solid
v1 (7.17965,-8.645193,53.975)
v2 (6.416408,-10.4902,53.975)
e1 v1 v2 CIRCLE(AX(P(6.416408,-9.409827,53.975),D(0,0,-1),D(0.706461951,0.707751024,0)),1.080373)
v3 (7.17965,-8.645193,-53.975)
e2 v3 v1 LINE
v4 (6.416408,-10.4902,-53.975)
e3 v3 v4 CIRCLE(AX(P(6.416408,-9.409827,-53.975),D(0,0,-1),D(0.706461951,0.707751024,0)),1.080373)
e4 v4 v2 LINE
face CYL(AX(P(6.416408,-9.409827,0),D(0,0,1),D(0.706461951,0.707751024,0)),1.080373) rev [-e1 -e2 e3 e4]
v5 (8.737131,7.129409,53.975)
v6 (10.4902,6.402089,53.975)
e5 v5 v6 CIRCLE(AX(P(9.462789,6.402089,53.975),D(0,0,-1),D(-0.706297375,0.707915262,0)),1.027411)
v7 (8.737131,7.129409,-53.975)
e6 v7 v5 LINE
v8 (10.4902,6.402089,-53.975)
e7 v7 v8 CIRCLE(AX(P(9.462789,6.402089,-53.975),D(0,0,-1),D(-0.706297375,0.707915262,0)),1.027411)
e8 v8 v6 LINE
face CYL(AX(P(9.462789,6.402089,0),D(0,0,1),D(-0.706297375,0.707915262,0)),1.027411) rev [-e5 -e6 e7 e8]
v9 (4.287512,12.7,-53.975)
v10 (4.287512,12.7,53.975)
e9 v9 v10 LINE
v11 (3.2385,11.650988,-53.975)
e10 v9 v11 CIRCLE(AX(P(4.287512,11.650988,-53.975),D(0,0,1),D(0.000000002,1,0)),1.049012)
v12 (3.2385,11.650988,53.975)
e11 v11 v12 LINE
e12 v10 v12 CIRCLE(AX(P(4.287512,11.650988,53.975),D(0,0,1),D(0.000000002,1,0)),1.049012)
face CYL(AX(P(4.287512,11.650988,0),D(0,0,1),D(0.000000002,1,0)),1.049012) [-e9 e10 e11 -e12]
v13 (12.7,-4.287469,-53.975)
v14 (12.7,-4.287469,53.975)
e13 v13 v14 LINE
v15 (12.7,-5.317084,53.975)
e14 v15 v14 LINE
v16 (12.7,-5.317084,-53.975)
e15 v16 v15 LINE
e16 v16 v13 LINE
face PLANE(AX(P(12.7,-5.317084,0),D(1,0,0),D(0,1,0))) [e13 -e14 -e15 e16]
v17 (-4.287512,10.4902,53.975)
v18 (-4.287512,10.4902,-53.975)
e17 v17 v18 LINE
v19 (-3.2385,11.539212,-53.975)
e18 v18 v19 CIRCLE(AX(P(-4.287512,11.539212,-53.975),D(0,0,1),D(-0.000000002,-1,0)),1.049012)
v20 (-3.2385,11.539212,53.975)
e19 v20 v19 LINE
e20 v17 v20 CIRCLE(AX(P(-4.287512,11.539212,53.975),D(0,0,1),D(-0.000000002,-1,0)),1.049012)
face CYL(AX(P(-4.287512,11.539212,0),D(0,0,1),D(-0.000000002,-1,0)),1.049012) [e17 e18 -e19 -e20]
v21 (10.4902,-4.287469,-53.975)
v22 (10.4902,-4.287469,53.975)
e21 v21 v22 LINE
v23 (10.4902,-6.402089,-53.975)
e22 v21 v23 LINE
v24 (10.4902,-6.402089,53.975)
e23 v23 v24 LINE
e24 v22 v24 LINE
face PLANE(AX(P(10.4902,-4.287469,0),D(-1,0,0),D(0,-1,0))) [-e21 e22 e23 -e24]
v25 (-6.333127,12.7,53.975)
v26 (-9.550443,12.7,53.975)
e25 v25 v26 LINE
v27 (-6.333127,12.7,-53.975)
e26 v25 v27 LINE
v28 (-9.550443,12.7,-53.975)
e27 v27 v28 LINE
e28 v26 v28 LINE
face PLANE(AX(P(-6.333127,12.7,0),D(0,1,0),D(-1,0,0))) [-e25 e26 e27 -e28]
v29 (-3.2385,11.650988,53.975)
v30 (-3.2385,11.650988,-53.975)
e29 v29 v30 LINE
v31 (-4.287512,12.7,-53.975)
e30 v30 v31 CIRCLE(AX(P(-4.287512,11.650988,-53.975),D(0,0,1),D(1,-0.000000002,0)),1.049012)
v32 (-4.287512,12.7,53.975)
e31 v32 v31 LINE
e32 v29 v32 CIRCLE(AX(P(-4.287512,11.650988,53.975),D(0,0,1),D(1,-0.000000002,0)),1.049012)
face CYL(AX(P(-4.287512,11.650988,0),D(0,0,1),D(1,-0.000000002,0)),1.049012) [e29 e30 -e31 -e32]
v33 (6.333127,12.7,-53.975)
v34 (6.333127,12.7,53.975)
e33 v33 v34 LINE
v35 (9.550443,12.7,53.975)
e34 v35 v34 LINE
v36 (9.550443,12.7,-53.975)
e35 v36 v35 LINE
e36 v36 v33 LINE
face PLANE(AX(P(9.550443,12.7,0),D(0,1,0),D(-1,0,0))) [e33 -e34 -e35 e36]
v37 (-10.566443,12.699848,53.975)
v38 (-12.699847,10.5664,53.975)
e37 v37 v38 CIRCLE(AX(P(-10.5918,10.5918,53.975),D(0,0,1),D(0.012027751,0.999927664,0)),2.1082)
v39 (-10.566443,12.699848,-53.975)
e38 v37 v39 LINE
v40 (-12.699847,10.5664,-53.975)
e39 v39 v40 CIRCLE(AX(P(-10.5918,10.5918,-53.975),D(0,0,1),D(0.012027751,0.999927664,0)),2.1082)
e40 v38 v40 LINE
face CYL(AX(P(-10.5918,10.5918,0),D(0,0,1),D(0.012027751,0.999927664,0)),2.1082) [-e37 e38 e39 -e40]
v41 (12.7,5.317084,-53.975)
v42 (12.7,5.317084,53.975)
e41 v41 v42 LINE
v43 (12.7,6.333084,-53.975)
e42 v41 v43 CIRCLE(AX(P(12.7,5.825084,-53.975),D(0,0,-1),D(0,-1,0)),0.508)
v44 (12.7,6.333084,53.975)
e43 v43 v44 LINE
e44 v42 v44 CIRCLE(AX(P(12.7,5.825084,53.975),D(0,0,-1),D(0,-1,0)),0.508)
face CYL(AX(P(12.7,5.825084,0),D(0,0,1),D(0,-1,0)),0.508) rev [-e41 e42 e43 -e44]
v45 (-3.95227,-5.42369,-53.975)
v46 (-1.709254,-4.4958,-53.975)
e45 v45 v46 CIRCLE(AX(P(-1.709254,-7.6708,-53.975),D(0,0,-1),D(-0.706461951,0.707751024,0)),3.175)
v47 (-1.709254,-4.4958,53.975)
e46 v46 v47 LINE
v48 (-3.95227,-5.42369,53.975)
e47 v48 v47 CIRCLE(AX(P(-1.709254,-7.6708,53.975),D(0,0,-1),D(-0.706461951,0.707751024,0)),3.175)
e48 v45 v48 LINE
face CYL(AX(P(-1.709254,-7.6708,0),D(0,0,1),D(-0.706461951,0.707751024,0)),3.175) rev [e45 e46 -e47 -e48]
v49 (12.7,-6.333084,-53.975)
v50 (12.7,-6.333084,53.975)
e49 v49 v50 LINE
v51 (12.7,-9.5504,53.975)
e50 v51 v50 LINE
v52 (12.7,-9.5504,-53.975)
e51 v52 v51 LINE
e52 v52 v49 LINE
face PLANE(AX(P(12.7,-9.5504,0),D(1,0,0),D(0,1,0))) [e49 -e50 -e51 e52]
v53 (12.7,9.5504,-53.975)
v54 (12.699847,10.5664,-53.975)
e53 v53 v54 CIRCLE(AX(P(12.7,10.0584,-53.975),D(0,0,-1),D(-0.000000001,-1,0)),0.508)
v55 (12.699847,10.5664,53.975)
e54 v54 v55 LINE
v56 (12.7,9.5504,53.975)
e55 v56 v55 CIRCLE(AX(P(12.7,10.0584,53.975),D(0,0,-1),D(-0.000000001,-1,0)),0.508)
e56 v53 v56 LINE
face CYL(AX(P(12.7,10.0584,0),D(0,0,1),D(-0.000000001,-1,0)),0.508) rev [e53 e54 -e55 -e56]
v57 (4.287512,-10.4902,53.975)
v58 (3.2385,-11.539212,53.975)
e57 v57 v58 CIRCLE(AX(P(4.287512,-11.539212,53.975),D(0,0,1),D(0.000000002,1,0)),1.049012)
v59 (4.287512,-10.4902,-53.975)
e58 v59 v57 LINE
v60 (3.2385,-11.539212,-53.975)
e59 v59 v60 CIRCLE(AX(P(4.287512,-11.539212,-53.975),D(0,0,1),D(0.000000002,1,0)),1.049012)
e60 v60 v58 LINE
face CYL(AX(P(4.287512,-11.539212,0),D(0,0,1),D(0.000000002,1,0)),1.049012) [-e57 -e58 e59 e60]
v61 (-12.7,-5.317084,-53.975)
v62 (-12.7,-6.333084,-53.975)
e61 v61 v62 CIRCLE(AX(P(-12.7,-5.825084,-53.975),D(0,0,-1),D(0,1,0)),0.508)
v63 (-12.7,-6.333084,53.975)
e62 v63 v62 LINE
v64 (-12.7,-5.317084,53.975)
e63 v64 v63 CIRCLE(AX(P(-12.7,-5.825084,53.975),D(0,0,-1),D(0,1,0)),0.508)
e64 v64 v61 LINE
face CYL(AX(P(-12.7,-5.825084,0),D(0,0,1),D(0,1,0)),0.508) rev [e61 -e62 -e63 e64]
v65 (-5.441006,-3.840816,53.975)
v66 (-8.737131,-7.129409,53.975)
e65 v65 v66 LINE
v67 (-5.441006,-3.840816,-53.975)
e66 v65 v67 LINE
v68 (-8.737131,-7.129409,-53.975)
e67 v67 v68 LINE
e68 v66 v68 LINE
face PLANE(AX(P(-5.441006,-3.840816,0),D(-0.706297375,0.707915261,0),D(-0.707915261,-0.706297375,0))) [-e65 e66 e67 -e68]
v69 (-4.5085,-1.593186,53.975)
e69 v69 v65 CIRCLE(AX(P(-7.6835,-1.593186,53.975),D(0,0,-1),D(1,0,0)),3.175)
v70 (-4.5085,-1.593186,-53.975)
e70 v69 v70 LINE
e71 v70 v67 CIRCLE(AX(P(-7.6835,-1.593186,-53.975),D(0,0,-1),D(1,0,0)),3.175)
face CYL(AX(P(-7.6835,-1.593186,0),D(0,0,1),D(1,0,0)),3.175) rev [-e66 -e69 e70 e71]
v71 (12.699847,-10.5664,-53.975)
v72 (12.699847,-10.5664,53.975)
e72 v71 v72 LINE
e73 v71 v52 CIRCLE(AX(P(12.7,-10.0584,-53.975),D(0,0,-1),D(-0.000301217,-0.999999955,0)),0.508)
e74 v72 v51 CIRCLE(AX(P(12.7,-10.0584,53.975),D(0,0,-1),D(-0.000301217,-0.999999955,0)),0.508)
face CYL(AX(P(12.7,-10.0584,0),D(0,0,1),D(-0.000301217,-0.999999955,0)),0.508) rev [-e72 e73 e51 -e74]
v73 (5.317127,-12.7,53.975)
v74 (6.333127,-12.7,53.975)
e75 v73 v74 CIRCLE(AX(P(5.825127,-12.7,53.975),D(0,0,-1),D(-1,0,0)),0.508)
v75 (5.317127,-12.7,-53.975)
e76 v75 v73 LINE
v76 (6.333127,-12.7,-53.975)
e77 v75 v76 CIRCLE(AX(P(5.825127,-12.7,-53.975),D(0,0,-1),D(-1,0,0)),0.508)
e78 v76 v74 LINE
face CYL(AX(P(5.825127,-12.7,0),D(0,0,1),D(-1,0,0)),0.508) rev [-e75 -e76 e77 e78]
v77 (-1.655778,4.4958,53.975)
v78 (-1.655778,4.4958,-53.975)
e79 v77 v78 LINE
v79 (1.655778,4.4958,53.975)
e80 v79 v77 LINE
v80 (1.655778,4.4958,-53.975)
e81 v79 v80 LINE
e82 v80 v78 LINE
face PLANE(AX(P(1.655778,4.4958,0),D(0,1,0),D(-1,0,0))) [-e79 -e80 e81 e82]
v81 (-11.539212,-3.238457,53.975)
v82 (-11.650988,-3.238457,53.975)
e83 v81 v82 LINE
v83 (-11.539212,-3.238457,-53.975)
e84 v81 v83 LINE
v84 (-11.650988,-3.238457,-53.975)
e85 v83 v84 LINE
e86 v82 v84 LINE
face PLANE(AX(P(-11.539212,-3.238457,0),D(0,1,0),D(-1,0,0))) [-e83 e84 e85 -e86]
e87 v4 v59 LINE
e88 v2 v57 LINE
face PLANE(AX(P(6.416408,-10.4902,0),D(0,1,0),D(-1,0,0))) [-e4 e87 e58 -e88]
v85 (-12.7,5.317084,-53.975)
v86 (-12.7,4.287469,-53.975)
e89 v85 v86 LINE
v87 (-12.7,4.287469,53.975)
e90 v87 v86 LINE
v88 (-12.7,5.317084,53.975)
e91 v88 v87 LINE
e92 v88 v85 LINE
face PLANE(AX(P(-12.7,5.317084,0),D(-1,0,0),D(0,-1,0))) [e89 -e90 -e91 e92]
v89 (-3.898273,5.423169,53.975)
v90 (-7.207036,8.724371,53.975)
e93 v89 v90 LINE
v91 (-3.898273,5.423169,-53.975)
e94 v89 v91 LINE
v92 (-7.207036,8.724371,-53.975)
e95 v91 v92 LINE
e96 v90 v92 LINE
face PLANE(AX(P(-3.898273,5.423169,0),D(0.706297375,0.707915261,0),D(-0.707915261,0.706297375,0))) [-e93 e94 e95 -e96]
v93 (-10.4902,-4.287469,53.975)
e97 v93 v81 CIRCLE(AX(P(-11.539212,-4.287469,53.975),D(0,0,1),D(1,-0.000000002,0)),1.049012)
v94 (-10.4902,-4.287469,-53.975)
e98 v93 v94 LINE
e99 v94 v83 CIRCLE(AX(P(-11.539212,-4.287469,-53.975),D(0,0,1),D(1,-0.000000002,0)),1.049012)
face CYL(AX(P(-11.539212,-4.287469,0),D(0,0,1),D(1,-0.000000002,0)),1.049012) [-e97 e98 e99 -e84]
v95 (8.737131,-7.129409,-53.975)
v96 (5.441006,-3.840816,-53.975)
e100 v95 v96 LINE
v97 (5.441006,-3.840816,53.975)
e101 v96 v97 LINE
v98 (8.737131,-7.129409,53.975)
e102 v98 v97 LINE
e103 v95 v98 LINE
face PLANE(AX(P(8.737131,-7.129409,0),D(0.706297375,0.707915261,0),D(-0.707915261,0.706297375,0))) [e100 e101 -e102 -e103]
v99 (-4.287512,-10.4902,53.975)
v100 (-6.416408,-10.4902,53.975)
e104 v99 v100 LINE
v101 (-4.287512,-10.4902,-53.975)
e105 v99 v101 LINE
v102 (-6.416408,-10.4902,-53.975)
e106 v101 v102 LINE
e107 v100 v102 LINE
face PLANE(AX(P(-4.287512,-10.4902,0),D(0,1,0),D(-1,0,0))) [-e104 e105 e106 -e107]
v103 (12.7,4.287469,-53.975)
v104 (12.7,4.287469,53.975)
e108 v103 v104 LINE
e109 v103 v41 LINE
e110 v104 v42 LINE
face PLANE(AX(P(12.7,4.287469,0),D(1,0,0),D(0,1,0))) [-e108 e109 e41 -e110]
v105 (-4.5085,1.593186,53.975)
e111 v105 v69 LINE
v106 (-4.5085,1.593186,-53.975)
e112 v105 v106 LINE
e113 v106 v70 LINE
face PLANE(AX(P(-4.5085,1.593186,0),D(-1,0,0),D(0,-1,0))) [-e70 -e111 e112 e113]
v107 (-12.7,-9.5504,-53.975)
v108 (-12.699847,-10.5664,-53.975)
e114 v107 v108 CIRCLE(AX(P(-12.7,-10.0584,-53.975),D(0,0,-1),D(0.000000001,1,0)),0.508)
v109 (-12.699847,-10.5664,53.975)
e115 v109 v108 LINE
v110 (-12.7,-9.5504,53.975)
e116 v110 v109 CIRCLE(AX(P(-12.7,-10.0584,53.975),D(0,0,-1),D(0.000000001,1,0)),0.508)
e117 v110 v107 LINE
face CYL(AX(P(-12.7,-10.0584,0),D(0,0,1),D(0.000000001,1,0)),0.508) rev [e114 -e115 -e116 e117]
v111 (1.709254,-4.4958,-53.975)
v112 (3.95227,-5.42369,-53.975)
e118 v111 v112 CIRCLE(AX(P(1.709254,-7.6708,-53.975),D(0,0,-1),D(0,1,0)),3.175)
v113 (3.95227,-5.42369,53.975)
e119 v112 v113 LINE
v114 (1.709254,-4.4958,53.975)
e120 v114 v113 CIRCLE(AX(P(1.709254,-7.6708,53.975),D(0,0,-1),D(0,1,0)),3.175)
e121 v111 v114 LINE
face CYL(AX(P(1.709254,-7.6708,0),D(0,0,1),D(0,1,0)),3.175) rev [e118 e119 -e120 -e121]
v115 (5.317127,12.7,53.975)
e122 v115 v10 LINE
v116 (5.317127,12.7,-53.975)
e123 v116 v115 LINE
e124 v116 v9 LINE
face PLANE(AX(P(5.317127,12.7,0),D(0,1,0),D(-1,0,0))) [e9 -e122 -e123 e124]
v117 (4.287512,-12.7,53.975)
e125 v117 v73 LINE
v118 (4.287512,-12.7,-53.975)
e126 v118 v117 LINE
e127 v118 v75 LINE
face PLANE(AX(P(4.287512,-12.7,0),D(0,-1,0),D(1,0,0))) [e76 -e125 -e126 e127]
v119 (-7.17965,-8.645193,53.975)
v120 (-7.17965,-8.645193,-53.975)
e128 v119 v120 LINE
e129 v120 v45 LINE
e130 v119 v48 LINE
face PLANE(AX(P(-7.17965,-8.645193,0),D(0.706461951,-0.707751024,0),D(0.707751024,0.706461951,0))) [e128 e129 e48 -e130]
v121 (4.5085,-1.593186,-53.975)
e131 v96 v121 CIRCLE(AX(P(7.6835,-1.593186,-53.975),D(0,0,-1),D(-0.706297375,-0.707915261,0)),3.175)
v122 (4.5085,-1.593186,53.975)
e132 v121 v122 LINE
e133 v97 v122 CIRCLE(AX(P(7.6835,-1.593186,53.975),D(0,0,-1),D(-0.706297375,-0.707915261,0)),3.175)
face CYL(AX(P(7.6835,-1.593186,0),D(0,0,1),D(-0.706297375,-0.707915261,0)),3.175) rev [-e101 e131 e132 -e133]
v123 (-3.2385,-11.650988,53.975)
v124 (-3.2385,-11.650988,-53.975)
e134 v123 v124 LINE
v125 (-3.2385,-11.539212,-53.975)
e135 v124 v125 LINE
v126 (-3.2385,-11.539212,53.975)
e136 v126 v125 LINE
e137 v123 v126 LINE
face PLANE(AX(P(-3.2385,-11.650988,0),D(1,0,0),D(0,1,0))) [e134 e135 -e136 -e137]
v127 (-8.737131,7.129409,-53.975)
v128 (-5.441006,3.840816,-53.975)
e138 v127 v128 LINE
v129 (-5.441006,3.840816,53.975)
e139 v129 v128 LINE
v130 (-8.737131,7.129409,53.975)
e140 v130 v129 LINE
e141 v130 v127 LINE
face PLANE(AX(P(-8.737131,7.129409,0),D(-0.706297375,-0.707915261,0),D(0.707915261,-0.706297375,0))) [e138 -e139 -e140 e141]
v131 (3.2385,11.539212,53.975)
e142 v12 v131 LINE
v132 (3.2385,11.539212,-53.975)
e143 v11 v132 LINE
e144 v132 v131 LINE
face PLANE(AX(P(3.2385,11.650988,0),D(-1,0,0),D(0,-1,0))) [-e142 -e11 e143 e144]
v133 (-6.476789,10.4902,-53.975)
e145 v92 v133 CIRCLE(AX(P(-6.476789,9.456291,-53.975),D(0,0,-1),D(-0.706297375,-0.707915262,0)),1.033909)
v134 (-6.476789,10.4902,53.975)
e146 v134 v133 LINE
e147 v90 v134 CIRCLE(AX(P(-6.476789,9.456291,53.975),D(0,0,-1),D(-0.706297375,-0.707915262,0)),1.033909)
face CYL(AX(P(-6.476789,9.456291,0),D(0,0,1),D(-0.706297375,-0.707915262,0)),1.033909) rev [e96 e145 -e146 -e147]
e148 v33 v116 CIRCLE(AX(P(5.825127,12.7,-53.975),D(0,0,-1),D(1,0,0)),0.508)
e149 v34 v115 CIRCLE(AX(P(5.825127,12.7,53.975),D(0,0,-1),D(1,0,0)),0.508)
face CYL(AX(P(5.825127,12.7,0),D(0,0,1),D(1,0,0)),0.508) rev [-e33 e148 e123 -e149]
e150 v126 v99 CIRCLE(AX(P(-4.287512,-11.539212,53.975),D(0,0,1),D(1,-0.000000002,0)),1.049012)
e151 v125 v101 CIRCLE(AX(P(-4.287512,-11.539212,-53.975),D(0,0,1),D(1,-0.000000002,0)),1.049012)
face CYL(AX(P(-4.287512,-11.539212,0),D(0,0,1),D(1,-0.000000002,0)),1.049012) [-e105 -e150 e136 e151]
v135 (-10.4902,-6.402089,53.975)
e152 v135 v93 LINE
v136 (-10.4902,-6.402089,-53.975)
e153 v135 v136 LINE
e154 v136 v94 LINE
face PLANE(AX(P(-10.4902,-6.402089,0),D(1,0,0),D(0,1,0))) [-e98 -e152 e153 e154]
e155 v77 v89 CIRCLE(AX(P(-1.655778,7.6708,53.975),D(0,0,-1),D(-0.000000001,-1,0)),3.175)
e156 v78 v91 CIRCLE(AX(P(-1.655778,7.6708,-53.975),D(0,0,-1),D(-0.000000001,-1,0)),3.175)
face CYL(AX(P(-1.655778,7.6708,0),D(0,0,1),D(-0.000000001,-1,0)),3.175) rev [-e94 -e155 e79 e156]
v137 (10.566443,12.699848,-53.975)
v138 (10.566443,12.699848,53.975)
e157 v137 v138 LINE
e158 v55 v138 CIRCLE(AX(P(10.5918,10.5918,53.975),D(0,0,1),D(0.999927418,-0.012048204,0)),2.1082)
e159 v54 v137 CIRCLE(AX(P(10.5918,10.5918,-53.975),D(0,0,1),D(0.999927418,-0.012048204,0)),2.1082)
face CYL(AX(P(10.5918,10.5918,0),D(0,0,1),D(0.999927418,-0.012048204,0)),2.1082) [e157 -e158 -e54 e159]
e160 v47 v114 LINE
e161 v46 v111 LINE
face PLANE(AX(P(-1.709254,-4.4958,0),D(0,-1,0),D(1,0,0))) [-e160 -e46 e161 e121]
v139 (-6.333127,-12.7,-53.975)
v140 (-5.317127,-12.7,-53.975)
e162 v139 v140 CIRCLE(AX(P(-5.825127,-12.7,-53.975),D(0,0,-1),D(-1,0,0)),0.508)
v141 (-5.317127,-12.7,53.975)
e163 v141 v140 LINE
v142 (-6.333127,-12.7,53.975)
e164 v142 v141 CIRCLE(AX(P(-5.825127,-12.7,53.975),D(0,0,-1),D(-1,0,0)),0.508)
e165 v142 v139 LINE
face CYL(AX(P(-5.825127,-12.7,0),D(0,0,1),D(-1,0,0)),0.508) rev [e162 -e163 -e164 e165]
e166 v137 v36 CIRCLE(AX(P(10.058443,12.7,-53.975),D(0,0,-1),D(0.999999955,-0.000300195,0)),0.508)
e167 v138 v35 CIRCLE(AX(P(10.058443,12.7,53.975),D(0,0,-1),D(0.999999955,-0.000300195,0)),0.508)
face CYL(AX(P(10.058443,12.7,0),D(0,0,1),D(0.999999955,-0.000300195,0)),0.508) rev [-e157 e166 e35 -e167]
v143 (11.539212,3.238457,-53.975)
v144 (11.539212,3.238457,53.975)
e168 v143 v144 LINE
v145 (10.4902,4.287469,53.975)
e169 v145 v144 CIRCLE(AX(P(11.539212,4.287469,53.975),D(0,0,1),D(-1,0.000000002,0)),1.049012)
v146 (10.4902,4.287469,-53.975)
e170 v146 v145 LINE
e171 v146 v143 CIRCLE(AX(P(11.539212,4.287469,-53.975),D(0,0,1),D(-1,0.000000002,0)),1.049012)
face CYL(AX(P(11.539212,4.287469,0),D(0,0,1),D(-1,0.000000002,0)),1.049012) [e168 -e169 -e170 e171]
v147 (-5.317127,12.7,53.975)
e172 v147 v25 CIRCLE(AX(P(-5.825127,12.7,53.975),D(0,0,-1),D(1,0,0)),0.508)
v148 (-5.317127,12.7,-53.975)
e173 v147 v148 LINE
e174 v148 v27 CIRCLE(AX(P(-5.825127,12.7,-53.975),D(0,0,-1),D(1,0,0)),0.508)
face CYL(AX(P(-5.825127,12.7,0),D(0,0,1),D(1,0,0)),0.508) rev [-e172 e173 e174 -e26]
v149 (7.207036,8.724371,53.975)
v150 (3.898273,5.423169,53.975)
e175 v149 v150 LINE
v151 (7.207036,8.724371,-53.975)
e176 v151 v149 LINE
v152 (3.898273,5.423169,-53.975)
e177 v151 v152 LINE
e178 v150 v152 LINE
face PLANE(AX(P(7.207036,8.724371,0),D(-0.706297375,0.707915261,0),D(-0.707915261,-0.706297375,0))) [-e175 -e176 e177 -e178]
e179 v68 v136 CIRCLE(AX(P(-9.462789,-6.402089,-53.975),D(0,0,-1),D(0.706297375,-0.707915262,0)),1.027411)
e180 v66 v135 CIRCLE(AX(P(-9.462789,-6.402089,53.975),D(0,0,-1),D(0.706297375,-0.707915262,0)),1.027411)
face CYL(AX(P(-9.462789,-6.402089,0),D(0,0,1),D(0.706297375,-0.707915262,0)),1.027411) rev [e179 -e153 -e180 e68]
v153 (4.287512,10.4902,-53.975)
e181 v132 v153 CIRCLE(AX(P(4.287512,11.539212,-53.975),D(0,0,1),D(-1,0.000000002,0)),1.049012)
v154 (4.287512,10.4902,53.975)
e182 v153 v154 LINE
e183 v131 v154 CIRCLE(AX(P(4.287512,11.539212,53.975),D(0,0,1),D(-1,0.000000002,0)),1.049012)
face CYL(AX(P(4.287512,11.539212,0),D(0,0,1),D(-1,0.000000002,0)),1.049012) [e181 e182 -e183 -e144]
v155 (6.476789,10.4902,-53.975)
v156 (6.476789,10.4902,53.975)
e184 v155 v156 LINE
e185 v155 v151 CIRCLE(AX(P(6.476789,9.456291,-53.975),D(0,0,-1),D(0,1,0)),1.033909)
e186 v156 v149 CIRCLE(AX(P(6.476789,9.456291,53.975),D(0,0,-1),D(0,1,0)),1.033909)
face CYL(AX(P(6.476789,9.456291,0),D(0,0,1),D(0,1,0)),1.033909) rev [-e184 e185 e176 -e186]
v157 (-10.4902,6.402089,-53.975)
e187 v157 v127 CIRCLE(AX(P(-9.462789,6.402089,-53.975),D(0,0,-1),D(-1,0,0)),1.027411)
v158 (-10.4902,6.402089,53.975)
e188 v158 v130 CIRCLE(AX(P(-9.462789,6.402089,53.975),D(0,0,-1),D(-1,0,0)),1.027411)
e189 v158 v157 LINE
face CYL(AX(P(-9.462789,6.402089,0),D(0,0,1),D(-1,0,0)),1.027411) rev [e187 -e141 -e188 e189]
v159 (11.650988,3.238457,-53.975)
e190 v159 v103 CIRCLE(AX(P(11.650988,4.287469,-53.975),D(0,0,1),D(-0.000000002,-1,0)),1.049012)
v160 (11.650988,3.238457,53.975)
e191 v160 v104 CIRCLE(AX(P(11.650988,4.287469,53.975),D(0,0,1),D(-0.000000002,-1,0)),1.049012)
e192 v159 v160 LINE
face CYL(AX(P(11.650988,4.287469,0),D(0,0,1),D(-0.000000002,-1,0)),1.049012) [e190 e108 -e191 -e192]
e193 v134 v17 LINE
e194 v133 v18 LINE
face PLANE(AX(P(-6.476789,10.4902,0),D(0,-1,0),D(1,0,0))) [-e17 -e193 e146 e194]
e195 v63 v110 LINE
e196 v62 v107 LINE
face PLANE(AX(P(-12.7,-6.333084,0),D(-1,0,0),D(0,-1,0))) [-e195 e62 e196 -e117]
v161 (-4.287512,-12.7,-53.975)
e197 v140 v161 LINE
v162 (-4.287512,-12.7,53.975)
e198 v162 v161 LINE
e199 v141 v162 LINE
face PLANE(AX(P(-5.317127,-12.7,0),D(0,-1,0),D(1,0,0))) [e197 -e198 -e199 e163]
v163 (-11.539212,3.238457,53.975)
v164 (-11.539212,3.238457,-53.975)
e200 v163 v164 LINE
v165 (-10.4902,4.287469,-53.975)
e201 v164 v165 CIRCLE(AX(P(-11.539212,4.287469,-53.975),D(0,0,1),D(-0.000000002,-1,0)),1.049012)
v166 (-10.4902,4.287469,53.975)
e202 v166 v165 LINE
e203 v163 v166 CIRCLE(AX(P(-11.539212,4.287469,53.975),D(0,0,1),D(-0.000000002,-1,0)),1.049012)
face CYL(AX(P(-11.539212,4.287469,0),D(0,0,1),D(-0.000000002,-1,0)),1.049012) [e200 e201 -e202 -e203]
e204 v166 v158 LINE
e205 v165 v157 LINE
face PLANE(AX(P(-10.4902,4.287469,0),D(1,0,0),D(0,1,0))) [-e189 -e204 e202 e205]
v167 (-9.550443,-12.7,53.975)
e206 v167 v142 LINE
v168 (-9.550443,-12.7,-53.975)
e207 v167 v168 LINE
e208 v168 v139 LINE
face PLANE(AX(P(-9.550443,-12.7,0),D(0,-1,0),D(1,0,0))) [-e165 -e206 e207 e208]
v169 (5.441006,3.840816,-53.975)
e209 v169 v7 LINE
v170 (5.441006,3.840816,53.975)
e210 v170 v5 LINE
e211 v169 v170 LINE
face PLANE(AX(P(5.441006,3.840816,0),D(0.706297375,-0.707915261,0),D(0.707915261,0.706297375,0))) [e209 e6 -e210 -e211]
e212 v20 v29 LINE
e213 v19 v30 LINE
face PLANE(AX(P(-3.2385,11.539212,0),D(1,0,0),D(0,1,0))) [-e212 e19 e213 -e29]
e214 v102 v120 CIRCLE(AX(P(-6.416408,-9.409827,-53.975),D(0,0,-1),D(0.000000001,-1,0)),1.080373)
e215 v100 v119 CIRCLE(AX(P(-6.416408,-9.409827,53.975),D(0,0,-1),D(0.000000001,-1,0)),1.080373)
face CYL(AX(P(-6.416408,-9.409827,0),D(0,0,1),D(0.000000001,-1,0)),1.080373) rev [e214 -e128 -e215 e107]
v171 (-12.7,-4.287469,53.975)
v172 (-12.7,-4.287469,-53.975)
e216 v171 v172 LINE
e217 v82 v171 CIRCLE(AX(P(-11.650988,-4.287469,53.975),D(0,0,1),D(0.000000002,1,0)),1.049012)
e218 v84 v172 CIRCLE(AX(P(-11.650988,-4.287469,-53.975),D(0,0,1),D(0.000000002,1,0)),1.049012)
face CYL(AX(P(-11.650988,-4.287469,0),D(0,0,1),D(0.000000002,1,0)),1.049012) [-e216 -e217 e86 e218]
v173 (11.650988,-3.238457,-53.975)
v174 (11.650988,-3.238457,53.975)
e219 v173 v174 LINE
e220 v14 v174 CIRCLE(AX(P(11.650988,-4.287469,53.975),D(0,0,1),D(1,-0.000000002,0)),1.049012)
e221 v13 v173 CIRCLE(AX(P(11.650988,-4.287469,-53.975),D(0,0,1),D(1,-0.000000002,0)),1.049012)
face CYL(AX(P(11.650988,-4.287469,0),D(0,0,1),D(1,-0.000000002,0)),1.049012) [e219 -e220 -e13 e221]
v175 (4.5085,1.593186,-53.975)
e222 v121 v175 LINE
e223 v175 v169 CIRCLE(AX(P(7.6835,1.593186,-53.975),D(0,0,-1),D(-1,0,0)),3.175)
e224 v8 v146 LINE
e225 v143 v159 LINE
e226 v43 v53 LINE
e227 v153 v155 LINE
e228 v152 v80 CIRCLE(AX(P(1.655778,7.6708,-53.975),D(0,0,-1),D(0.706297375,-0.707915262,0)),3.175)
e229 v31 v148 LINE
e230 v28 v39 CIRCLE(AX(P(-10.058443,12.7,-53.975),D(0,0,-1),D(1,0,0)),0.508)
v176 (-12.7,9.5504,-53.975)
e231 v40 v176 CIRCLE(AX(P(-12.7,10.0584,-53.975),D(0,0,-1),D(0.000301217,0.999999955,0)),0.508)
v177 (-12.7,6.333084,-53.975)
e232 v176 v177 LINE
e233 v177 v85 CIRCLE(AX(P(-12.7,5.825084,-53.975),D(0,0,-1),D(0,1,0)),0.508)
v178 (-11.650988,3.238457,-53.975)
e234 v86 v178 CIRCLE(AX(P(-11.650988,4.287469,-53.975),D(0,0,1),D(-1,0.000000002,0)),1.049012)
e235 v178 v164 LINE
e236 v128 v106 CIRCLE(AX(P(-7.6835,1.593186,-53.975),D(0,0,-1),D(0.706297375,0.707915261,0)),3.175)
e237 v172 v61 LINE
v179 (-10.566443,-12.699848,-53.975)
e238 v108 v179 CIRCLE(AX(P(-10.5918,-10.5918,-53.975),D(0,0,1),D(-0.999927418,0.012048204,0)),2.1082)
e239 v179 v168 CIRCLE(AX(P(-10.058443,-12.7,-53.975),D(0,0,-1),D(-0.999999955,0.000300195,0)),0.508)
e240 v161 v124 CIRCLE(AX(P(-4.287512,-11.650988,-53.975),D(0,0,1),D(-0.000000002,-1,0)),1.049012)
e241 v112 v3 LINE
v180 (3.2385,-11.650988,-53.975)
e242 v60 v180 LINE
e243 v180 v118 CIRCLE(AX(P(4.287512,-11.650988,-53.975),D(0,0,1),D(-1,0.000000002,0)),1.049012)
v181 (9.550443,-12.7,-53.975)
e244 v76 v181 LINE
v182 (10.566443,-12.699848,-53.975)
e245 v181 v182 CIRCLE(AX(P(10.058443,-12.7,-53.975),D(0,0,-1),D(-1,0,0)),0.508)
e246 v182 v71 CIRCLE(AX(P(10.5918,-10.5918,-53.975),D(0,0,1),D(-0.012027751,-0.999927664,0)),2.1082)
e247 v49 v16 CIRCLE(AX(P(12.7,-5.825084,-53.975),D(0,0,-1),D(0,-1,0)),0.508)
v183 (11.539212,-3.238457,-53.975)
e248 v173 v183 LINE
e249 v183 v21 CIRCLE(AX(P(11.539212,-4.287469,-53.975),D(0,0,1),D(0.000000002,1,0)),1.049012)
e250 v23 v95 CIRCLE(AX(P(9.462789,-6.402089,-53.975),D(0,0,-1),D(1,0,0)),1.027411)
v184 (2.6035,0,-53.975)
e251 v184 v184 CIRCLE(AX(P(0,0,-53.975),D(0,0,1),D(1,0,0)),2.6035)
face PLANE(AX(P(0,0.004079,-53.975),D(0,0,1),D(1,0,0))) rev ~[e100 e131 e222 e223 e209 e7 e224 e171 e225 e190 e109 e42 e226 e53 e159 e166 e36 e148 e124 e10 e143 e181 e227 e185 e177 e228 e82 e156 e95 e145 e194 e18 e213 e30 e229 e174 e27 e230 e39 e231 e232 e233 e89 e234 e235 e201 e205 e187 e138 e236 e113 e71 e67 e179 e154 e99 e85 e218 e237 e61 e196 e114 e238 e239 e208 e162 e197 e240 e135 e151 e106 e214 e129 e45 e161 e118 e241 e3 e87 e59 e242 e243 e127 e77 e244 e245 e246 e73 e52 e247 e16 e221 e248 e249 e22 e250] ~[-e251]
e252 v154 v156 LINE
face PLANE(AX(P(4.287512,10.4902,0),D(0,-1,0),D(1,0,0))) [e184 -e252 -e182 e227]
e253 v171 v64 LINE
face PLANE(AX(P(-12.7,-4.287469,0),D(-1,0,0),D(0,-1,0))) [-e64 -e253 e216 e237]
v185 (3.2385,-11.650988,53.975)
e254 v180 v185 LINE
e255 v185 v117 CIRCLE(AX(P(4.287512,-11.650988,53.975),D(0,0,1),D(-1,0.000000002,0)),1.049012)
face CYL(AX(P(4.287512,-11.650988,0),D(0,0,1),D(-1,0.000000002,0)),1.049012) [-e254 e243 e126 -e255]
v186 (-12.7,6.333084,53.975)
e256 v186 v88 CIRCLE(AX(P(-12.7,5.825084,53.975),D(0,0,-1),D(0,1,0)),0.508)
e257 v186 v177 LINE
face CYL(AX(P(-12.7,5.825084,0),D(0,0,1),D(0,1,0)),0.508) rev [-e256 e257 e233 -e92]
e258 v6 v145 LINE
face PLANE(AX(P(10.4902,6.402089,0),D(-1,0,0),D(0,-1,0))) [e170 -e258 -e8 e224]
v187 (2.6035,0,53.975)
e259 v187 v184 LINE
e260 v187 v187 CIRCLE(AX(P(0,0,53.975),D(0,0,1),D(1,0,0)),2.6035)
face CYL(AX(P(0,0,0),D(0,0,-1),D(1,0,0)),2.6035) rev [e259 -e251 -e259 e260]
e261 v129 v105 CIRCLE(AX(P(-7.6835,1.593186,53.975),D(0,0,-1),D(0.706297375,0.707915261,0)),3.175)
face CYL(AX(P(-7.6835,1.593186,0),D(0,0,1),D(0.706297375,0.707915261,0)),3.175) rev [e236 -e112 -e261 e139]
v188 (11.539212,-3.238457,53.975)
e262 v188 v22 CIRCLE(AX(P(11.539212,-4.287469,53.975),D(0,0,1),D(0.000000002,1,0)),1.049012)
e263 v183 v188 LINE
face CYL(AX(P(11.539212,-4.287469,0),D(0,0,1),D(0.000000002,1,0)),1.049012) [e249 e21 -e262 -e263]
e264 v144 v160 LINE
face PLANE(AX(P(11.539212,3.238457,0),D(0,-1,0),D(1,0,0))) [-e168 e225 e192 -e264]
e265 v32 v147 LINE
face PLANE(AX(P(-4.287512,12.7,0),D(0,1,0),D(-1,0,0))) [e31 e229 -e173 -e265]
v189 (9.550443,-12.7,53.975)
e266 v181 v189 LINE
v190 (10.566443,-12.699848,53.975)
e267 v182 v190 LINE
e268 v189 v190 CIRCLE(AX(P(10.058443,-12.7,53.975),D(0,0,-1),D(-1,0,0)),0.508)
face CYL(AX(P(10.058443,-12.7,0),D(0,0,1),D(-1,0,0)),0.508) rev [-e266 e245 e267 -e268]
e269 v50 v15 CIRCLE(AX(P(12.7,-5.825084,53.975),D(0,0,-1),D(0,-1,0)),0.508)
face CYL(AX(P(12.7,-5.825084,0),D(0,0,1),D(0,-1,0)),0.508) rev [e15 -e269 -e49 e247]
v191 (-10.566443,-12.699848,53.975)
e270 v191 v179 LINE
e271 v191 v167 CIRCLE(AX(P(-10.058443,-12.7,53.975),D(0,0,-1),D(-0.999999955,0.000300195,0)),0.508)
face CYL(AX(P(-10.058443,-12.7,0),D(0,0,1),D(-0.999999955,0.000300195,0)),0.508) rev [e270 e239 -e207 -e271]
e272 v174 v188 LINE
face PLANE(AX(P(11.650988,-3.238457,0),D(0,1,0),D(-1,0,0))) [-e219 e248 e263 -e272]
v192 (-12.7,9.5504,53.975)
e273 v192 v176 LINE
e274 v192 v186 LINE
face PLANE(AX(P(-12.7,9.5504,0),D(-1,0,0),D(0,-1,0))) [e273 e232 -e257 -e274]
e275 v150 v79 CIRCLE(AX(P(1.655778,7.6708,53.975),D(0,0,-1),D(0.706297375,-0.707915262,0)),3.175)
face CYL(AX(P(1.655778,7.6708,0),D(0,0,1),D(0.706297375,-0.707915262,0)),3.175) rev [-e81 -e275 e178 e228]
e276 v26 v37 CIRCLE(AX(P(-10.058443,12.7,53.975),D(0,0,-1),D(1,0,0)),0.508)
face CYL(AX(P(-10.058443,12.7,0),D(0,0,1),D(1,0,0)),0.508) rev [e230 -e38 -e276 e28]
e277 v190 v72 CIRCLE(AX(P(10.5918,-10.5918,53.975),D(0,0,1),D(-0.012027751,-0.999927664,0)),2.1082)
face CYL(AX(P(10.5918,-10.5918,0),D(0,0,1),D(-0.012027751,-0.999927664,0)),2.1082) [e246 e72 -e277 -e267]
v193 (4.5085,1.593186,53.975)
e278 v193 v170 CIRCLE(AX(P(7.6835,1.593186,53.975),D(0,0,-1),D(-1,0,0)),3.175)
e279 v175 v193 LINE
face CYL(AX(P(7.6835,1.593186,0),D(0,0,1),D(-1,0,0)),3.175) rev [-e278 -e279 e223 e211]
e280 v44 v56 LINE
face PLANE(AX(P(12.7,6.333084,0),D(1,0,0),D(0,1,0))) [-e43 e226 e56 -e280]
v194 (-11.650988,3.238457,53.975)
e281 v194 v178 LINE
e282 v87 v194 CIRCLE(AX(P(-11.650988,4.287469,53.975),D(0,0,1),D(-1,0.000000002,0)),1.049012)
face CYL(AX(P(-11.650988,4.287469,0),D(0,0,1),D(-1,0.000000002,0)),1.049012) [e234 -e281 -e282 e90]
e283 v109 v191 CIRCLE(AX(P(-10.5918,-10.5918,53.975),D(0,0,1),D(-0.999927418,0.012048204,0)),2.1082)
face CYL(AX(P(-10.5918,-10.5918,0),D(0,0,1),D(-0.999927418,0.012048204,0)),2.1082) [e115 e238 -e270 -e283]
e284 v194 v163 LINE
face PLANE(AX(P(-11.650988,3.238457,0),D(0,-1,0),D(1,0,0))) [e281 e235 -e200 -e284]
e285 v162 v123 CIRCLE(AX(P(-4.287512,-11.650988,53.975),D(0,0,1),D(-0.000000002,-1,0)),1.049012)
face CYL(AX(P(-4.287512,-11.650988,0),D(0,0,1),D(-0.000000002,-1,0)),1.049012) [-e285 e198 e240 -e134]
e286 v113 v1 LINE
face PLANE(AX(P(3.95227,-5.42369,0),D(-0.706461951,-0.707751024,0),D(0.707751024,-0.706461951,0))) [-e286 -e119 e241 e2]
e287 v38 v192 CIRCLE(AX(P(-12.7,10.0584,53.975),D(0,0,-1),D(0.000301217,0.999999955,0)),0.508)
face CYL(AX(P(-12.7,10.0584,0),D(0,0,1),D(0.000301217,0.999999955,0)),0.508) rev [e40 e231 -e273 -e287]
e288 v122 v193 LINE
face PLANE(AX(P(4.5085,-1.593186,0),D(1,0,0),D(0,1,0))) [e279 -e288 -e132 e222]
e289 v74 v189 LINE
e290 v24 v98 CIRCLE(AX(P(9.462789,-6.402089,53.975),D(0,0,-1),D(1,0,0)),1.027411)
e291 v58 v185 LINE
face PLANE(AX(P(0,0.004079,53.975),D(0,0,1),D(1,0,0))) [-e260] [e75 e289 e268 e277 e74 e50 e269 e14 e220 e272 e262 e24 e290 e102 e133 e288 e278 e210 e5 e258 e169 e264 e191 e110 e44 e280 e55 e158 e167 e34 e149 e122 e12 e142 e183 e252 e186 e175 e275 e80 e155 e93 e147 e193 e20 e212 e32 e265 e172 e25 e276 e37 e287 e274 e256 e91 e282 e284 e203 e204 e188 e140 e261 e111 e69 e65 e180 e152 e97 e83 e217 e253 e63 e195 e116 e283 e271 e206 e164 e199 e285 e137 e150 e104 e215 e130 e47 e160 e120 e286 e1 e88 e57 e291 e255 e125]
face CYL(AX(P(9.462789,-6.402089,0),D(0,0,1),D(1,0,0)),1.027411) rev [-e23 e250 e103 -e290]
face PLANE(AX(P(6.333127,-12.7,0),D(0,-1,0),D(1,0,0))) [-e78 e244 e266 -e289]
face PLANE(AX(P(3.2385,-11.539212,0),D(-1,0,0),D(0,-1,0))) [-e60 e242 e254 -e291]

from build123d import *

# Parameters (mm, degrees)
SKETCH1_R           = 2.6035
BOSS_EXTRUDE1_DEPTH = 53.975


with BuildPart() as part:
    # Sketch1 → Boss-Extrude1 (new, symmetric)
    with BuildSketch(Plane.XY):
        with BuildLine():
            Line((-7.179650497, -8.645192506), (-3.952270251, -5.423690499))
            ThreePointArc((-3.952270251, -5.423690499), (-2.922936451, -4.736929036), (-1.709253557, -4.4958))
            Line((-1.709253557, -4.4958), (1.709253557, -4.4958))
            ThreePointArc((1.709253557, -4.4958), (2.922936451, -4.736929036), (3.952270251, -5.423690499))
            Line((3.952270251, -5.423690499), (7.179650497, -8.645192506))
            ThreePointArc((7.179650497, -8.645192506), (7.41473083, -9.822813117), (6.416408329, -10.4902))
            Line((6.416408329, -10.4902), (4.287512407, -10.4902))
            ThreePointArc((4.287512407, -10.4902), (3.54574862, -10.79744862), (3.2385, -11.539212407))
            Line((3.2385, -11.539212407), (3.2385, -11.650987593))
            ThreePointArc((3.2385, -11.650987593), (3.54574862, -12.39275138), (4.287512407, -12.7))
            Line((4.287512407, -12.7), (5.317126718, -12.7))
            ThreePointArc((5.317126718, -12.7), (5.825126718, -12.192), (6.333126718, -12.7))
            Line((6.333126718, -12.7), (9.550443118, -12.7))
            ThreePointArc((9.550443118, -12.7), (10.058366869, -12.192000006), (10.566443095, -12.699847501))
            ThreePointArc((10.566443095, -12.699847501), (12.082537762, -12.08250727), (12.699846982, -10.566399977))
            ThreePointArc((12.699846982, -10.566399977), (12.192000006, -10.058323491), (12.7, -9.5504))
            Line((12.7, -9.5504), (12.7, -6.3330836))
            ThreePointArc((12.7, -6.3330836), (12.192, -5.8250836), (12.7, -5.3170836))
            Line((12.7, -5.3170836), (12.7, -4.287469289))
            ThreePointArc((12.7, -4.287469289), (12.39275138, -3.545705502), (11.650987593, -3.238456882))
            Line((11.650987593, -3.238456882), (11.539212407, -3.238456882))
            ThreePointArc((11.539212407, -3.238456882), (10.79744862, -3.545705502), (10.4902, -4.287469289))
            Line((10.4902, -4.287469289), (10.4902, -6.402089023))
            ThreePointArc((10.4902, -6.402089023), (9.856505071, -7.351067942), (8.737131347, -7.129408934))
            Line((8.737131347, -7.129408934), (5.441005833, -3.840816462))
            ThreePointArc((5.441005833, -3.840816462), (4.750877967, -2.809883091), (4.5085, -1.593185507))
            Line((4.5085, -1.593185507), (4.5085, 1.593185507))
            ThreePointArc((4.5085, 1.593185507), (4.750877967, 2.809883091), (5.441005833, 3.840816462))
            Line((5.441005833, 3.840816462), (8.737131347, 7.129408934))
            ThreePointArc((8.737131347, 7.129408934), (9.856505071, 7.351067942), (10.4902, 6.402089023))
            Line((10.4902, 6.402089023), (10.4902, 4.287469289))
            ThreePointArc((10.4902, 4.287469289), (10.79744862, 3.545705502), (11.539212407, 3.238456882))
            Line((11.539212407, 3.238456882), (11.650987593, 3.238456882))
            ThreePointArc((11.650987593, 3.238456882), (12.39275138, 3.545705502), (12.7, 4.287469289))
            Line((12.7, 4.287469289), (12.7, 5.3170836))
            ThreePointArc((12.7, 5.3170836), (12.192, 5.8250836), (12.7, 6.3330836))
            Line((12.7, 6.3330836), (12.7, 9.5504))
            ThreePointArc((12.7, 9.5504), (12.192000006, 10.058323491), (12.699846982, 10.566399977))
            ThreePointArc((12.699846982, 10.566399977), (12.082537762, 12.08250727), (10.566443095, 12.699847501))
            ThreePointArc((10.566443095, 12.699847501), (10.058366869, 12.192000006), (9.550443118, 12.7))
            Line((9.550443118, 12.7), (6.333126718, 12.7))
            ThreePointArc((6.333126718, 12.7), (5.825126718, 12.192), (5.317126718, 12.7))
            Line((5.317126718, 12.7), (4.287512407, 12.7))
            ThreePointArc((4.287512407, 12.7), (3.54574862, 12.39275138), (3.2385, 11.650987593))
            Line((3.2385, 11.650987593), (3.2385, 11.539212407))
            ThreePointArc((3.2385, 11.539212407), (3.54574862, 10.79744862), (4.287512407, 10.4902))
            Line((4.287512407, 10.4902), (6.476788598, 10.4902))
            ThreePointArc((6.476788598, 10.4902), (7.432222385, 9.85140422), (7.207036008, 8.724370562))
            Line((7.207036008, 8.724370562), (3.898272566, 5.423169045))
            ThreePointArc((3.898272566, 5.423169045), (2.869120213, 4.736787962), (1.655778399, 4.4958))
            Line((1.655778399, 4.4958), (-1.655778399, 4.4958))
            ThreePointArc((-1.655778399, 4.4958), (-2.869120213, 4.736787962), (-3.898272566, 5.423169045))
            Line((-3.898272566, 5.423169045), (-7.207036008, 8.724370562))
            ThreePointArc((-7.207036008, 8.724370562), (-7.432222385, 9.85140422), (-6.476788598, 10.4902))
            Line((-6.476788598, 10.4902), (-4.287512407, 10.4902))
            ThreePointArc((-4.287512407, 10.4902), (-3.54574862, 10.79744862), (-3.2385, 11.539212407))
            Line((-3.2385, 11.539212407), (-3.2385, 11.650987593))
            ThreePointArc((-3.2385, 11.650987593), (-3.54574862, 12.39275138), (-4.287512407, 12.7))
            Line((-4.287512407, 12.7), (-5.317126718, 12.7))
            ThreePointArc((-5.317126718, 12.7), (-5.825126718, 12.192), (-6.333126718, 12.7))
            Line((-6.333126718, 12.7), (-9.550443118, 12.7))
            ThreePointArc((-9.550443118, 12.7), (-10.058366869, 12.192000006), (-10.566443095, 12.699847501))
            ThreePointArc((-10.566443095, 12.699847501), (-12.082537762, 12.08250727), (-12.699846982, 10.566399977))
            ThreePointArc((-12.699846982, 10.566399977), (-12.192000006, 10.058323491), (-12.7, 9.5504))
            Line((-12.7, 9.5504), (-12.7, 6.3330836))
            ThreePointArc((-12.7, 6.3330836), (-12.192, 5.8250836), (-12.7, 5.3170836))
            Line((-12.7, 5.3170836), (-12.7, 4.287469289))
            ThreePointArc((-12.7, 4.287469289), (-12.39275138, 3.545705502), (-11.650987593, 3.238456882))
            Line((-11.650987593, 3.238456882), (-11.539212407, 3.238456882))
            ThreePointArc((-11.539212407, 3.238456882), (-10.79744862, 3.545705502), (-10.4902, 4.287469289))
            Line((-10.4902, 4.287469289), (-10.4902, 6.402089023))
            ThreePointArc((-10.4902, 6.402089023), (-9.856505071, 7.351067942), (-8.737131347, 7.129408934))
            Line((-8.737131347, 7.129408934), (-5.441005833, 3.840816462))
            ThreePointArc((-5.441005833, 3.840816462), (-4.750877967, 2.809883091), (-4.5085, 1.593185507))
            Line((-4.5085, 1.593185507), (-4.5085, -1.593185507))
            ThreePointArc((-4.5085, -1.593185507), (-4.750877967, -2.809883091), (-5.441005833, -3.840816462))
            Line((-5.441005833, -3.840816462), (-8.737131347, -7.129408934))
            ThreePointArc((-8.737131347, -7.129408934), (-9.856505071, -7.351067942), (-10.4902, -6.402089023))
            Line((-10.4902, -6.402089023), (-10.4902, -4.287469289))
            ThreePointArc((-10.4902, -4.287469289), (-10.79744862, -3.545705502), (-11.539212407, -3.238456882))
            Line((-11.539212407, -3.238456882), (-11.650987593, -3.238456882))
            ThreePointArc((-11.650987593, -3.238456882), (-12.39275138, -3.545705502), (-12.7, -4.287469289))
            Line((-12.7, -4.287469289), (-12.7, -5.3170836))
            ThreePointArc((-12.7, -5.3170836), (-12.192, -5.8250836), (-12.7, -6.3330836))
            Line((-12.7, -6.3330836), (-12.7, -9.5504))
            ThreePointArc((-12.7, -9.5504), (-12.192000006, -10.058323491), (-12.699846982, -10.566399977))
            ThreePointArc((-12.699846982, -10.566399977), (-12.082537762, -12.08250727), (-10.566443095, -12.699847501))
            ThreePointArc((-10.566443095, -12.699847501), (-10.058366869, -12.192000006), (-9.550443118, -12.7))
            Line((-9.550443118, -12.7), (-6.333126718, -12.7))
            ThreePointArc((-6.333126718, -12.7), (-5.825126718, -12.192), (-5.317126718, -12.7))
            Line((-5.317126718, -12.7), (-4.287512407, -12.7))
            ThreePointArc((-4.287512407, -12.7), (-3.54574862, -12.39275138), (-3.2385, -11.650987593))
            Line((-3.2385, -11.650987593), (-3.2385, -11.539212407))
            ThreePointArc((-3.2385, -11.539212407), (-3.54574862, -10.79744862), (-4.287512407, -10.4902))
            Line((-4.287512407, -10.4902), (-6.416408329, -10.4902))
            ThreePointArc((-6.416408329, -10.4902), (-7.41473083, -9.822813117), (-7.179650497, -8.645192506))
        make_face()
        Circle(SKETCH1_R, mode=Mode.SUBTRACT)
    extrude(amount=BOSS_EXTRUDE1_DEPTH, both=True)


solid = part.part
